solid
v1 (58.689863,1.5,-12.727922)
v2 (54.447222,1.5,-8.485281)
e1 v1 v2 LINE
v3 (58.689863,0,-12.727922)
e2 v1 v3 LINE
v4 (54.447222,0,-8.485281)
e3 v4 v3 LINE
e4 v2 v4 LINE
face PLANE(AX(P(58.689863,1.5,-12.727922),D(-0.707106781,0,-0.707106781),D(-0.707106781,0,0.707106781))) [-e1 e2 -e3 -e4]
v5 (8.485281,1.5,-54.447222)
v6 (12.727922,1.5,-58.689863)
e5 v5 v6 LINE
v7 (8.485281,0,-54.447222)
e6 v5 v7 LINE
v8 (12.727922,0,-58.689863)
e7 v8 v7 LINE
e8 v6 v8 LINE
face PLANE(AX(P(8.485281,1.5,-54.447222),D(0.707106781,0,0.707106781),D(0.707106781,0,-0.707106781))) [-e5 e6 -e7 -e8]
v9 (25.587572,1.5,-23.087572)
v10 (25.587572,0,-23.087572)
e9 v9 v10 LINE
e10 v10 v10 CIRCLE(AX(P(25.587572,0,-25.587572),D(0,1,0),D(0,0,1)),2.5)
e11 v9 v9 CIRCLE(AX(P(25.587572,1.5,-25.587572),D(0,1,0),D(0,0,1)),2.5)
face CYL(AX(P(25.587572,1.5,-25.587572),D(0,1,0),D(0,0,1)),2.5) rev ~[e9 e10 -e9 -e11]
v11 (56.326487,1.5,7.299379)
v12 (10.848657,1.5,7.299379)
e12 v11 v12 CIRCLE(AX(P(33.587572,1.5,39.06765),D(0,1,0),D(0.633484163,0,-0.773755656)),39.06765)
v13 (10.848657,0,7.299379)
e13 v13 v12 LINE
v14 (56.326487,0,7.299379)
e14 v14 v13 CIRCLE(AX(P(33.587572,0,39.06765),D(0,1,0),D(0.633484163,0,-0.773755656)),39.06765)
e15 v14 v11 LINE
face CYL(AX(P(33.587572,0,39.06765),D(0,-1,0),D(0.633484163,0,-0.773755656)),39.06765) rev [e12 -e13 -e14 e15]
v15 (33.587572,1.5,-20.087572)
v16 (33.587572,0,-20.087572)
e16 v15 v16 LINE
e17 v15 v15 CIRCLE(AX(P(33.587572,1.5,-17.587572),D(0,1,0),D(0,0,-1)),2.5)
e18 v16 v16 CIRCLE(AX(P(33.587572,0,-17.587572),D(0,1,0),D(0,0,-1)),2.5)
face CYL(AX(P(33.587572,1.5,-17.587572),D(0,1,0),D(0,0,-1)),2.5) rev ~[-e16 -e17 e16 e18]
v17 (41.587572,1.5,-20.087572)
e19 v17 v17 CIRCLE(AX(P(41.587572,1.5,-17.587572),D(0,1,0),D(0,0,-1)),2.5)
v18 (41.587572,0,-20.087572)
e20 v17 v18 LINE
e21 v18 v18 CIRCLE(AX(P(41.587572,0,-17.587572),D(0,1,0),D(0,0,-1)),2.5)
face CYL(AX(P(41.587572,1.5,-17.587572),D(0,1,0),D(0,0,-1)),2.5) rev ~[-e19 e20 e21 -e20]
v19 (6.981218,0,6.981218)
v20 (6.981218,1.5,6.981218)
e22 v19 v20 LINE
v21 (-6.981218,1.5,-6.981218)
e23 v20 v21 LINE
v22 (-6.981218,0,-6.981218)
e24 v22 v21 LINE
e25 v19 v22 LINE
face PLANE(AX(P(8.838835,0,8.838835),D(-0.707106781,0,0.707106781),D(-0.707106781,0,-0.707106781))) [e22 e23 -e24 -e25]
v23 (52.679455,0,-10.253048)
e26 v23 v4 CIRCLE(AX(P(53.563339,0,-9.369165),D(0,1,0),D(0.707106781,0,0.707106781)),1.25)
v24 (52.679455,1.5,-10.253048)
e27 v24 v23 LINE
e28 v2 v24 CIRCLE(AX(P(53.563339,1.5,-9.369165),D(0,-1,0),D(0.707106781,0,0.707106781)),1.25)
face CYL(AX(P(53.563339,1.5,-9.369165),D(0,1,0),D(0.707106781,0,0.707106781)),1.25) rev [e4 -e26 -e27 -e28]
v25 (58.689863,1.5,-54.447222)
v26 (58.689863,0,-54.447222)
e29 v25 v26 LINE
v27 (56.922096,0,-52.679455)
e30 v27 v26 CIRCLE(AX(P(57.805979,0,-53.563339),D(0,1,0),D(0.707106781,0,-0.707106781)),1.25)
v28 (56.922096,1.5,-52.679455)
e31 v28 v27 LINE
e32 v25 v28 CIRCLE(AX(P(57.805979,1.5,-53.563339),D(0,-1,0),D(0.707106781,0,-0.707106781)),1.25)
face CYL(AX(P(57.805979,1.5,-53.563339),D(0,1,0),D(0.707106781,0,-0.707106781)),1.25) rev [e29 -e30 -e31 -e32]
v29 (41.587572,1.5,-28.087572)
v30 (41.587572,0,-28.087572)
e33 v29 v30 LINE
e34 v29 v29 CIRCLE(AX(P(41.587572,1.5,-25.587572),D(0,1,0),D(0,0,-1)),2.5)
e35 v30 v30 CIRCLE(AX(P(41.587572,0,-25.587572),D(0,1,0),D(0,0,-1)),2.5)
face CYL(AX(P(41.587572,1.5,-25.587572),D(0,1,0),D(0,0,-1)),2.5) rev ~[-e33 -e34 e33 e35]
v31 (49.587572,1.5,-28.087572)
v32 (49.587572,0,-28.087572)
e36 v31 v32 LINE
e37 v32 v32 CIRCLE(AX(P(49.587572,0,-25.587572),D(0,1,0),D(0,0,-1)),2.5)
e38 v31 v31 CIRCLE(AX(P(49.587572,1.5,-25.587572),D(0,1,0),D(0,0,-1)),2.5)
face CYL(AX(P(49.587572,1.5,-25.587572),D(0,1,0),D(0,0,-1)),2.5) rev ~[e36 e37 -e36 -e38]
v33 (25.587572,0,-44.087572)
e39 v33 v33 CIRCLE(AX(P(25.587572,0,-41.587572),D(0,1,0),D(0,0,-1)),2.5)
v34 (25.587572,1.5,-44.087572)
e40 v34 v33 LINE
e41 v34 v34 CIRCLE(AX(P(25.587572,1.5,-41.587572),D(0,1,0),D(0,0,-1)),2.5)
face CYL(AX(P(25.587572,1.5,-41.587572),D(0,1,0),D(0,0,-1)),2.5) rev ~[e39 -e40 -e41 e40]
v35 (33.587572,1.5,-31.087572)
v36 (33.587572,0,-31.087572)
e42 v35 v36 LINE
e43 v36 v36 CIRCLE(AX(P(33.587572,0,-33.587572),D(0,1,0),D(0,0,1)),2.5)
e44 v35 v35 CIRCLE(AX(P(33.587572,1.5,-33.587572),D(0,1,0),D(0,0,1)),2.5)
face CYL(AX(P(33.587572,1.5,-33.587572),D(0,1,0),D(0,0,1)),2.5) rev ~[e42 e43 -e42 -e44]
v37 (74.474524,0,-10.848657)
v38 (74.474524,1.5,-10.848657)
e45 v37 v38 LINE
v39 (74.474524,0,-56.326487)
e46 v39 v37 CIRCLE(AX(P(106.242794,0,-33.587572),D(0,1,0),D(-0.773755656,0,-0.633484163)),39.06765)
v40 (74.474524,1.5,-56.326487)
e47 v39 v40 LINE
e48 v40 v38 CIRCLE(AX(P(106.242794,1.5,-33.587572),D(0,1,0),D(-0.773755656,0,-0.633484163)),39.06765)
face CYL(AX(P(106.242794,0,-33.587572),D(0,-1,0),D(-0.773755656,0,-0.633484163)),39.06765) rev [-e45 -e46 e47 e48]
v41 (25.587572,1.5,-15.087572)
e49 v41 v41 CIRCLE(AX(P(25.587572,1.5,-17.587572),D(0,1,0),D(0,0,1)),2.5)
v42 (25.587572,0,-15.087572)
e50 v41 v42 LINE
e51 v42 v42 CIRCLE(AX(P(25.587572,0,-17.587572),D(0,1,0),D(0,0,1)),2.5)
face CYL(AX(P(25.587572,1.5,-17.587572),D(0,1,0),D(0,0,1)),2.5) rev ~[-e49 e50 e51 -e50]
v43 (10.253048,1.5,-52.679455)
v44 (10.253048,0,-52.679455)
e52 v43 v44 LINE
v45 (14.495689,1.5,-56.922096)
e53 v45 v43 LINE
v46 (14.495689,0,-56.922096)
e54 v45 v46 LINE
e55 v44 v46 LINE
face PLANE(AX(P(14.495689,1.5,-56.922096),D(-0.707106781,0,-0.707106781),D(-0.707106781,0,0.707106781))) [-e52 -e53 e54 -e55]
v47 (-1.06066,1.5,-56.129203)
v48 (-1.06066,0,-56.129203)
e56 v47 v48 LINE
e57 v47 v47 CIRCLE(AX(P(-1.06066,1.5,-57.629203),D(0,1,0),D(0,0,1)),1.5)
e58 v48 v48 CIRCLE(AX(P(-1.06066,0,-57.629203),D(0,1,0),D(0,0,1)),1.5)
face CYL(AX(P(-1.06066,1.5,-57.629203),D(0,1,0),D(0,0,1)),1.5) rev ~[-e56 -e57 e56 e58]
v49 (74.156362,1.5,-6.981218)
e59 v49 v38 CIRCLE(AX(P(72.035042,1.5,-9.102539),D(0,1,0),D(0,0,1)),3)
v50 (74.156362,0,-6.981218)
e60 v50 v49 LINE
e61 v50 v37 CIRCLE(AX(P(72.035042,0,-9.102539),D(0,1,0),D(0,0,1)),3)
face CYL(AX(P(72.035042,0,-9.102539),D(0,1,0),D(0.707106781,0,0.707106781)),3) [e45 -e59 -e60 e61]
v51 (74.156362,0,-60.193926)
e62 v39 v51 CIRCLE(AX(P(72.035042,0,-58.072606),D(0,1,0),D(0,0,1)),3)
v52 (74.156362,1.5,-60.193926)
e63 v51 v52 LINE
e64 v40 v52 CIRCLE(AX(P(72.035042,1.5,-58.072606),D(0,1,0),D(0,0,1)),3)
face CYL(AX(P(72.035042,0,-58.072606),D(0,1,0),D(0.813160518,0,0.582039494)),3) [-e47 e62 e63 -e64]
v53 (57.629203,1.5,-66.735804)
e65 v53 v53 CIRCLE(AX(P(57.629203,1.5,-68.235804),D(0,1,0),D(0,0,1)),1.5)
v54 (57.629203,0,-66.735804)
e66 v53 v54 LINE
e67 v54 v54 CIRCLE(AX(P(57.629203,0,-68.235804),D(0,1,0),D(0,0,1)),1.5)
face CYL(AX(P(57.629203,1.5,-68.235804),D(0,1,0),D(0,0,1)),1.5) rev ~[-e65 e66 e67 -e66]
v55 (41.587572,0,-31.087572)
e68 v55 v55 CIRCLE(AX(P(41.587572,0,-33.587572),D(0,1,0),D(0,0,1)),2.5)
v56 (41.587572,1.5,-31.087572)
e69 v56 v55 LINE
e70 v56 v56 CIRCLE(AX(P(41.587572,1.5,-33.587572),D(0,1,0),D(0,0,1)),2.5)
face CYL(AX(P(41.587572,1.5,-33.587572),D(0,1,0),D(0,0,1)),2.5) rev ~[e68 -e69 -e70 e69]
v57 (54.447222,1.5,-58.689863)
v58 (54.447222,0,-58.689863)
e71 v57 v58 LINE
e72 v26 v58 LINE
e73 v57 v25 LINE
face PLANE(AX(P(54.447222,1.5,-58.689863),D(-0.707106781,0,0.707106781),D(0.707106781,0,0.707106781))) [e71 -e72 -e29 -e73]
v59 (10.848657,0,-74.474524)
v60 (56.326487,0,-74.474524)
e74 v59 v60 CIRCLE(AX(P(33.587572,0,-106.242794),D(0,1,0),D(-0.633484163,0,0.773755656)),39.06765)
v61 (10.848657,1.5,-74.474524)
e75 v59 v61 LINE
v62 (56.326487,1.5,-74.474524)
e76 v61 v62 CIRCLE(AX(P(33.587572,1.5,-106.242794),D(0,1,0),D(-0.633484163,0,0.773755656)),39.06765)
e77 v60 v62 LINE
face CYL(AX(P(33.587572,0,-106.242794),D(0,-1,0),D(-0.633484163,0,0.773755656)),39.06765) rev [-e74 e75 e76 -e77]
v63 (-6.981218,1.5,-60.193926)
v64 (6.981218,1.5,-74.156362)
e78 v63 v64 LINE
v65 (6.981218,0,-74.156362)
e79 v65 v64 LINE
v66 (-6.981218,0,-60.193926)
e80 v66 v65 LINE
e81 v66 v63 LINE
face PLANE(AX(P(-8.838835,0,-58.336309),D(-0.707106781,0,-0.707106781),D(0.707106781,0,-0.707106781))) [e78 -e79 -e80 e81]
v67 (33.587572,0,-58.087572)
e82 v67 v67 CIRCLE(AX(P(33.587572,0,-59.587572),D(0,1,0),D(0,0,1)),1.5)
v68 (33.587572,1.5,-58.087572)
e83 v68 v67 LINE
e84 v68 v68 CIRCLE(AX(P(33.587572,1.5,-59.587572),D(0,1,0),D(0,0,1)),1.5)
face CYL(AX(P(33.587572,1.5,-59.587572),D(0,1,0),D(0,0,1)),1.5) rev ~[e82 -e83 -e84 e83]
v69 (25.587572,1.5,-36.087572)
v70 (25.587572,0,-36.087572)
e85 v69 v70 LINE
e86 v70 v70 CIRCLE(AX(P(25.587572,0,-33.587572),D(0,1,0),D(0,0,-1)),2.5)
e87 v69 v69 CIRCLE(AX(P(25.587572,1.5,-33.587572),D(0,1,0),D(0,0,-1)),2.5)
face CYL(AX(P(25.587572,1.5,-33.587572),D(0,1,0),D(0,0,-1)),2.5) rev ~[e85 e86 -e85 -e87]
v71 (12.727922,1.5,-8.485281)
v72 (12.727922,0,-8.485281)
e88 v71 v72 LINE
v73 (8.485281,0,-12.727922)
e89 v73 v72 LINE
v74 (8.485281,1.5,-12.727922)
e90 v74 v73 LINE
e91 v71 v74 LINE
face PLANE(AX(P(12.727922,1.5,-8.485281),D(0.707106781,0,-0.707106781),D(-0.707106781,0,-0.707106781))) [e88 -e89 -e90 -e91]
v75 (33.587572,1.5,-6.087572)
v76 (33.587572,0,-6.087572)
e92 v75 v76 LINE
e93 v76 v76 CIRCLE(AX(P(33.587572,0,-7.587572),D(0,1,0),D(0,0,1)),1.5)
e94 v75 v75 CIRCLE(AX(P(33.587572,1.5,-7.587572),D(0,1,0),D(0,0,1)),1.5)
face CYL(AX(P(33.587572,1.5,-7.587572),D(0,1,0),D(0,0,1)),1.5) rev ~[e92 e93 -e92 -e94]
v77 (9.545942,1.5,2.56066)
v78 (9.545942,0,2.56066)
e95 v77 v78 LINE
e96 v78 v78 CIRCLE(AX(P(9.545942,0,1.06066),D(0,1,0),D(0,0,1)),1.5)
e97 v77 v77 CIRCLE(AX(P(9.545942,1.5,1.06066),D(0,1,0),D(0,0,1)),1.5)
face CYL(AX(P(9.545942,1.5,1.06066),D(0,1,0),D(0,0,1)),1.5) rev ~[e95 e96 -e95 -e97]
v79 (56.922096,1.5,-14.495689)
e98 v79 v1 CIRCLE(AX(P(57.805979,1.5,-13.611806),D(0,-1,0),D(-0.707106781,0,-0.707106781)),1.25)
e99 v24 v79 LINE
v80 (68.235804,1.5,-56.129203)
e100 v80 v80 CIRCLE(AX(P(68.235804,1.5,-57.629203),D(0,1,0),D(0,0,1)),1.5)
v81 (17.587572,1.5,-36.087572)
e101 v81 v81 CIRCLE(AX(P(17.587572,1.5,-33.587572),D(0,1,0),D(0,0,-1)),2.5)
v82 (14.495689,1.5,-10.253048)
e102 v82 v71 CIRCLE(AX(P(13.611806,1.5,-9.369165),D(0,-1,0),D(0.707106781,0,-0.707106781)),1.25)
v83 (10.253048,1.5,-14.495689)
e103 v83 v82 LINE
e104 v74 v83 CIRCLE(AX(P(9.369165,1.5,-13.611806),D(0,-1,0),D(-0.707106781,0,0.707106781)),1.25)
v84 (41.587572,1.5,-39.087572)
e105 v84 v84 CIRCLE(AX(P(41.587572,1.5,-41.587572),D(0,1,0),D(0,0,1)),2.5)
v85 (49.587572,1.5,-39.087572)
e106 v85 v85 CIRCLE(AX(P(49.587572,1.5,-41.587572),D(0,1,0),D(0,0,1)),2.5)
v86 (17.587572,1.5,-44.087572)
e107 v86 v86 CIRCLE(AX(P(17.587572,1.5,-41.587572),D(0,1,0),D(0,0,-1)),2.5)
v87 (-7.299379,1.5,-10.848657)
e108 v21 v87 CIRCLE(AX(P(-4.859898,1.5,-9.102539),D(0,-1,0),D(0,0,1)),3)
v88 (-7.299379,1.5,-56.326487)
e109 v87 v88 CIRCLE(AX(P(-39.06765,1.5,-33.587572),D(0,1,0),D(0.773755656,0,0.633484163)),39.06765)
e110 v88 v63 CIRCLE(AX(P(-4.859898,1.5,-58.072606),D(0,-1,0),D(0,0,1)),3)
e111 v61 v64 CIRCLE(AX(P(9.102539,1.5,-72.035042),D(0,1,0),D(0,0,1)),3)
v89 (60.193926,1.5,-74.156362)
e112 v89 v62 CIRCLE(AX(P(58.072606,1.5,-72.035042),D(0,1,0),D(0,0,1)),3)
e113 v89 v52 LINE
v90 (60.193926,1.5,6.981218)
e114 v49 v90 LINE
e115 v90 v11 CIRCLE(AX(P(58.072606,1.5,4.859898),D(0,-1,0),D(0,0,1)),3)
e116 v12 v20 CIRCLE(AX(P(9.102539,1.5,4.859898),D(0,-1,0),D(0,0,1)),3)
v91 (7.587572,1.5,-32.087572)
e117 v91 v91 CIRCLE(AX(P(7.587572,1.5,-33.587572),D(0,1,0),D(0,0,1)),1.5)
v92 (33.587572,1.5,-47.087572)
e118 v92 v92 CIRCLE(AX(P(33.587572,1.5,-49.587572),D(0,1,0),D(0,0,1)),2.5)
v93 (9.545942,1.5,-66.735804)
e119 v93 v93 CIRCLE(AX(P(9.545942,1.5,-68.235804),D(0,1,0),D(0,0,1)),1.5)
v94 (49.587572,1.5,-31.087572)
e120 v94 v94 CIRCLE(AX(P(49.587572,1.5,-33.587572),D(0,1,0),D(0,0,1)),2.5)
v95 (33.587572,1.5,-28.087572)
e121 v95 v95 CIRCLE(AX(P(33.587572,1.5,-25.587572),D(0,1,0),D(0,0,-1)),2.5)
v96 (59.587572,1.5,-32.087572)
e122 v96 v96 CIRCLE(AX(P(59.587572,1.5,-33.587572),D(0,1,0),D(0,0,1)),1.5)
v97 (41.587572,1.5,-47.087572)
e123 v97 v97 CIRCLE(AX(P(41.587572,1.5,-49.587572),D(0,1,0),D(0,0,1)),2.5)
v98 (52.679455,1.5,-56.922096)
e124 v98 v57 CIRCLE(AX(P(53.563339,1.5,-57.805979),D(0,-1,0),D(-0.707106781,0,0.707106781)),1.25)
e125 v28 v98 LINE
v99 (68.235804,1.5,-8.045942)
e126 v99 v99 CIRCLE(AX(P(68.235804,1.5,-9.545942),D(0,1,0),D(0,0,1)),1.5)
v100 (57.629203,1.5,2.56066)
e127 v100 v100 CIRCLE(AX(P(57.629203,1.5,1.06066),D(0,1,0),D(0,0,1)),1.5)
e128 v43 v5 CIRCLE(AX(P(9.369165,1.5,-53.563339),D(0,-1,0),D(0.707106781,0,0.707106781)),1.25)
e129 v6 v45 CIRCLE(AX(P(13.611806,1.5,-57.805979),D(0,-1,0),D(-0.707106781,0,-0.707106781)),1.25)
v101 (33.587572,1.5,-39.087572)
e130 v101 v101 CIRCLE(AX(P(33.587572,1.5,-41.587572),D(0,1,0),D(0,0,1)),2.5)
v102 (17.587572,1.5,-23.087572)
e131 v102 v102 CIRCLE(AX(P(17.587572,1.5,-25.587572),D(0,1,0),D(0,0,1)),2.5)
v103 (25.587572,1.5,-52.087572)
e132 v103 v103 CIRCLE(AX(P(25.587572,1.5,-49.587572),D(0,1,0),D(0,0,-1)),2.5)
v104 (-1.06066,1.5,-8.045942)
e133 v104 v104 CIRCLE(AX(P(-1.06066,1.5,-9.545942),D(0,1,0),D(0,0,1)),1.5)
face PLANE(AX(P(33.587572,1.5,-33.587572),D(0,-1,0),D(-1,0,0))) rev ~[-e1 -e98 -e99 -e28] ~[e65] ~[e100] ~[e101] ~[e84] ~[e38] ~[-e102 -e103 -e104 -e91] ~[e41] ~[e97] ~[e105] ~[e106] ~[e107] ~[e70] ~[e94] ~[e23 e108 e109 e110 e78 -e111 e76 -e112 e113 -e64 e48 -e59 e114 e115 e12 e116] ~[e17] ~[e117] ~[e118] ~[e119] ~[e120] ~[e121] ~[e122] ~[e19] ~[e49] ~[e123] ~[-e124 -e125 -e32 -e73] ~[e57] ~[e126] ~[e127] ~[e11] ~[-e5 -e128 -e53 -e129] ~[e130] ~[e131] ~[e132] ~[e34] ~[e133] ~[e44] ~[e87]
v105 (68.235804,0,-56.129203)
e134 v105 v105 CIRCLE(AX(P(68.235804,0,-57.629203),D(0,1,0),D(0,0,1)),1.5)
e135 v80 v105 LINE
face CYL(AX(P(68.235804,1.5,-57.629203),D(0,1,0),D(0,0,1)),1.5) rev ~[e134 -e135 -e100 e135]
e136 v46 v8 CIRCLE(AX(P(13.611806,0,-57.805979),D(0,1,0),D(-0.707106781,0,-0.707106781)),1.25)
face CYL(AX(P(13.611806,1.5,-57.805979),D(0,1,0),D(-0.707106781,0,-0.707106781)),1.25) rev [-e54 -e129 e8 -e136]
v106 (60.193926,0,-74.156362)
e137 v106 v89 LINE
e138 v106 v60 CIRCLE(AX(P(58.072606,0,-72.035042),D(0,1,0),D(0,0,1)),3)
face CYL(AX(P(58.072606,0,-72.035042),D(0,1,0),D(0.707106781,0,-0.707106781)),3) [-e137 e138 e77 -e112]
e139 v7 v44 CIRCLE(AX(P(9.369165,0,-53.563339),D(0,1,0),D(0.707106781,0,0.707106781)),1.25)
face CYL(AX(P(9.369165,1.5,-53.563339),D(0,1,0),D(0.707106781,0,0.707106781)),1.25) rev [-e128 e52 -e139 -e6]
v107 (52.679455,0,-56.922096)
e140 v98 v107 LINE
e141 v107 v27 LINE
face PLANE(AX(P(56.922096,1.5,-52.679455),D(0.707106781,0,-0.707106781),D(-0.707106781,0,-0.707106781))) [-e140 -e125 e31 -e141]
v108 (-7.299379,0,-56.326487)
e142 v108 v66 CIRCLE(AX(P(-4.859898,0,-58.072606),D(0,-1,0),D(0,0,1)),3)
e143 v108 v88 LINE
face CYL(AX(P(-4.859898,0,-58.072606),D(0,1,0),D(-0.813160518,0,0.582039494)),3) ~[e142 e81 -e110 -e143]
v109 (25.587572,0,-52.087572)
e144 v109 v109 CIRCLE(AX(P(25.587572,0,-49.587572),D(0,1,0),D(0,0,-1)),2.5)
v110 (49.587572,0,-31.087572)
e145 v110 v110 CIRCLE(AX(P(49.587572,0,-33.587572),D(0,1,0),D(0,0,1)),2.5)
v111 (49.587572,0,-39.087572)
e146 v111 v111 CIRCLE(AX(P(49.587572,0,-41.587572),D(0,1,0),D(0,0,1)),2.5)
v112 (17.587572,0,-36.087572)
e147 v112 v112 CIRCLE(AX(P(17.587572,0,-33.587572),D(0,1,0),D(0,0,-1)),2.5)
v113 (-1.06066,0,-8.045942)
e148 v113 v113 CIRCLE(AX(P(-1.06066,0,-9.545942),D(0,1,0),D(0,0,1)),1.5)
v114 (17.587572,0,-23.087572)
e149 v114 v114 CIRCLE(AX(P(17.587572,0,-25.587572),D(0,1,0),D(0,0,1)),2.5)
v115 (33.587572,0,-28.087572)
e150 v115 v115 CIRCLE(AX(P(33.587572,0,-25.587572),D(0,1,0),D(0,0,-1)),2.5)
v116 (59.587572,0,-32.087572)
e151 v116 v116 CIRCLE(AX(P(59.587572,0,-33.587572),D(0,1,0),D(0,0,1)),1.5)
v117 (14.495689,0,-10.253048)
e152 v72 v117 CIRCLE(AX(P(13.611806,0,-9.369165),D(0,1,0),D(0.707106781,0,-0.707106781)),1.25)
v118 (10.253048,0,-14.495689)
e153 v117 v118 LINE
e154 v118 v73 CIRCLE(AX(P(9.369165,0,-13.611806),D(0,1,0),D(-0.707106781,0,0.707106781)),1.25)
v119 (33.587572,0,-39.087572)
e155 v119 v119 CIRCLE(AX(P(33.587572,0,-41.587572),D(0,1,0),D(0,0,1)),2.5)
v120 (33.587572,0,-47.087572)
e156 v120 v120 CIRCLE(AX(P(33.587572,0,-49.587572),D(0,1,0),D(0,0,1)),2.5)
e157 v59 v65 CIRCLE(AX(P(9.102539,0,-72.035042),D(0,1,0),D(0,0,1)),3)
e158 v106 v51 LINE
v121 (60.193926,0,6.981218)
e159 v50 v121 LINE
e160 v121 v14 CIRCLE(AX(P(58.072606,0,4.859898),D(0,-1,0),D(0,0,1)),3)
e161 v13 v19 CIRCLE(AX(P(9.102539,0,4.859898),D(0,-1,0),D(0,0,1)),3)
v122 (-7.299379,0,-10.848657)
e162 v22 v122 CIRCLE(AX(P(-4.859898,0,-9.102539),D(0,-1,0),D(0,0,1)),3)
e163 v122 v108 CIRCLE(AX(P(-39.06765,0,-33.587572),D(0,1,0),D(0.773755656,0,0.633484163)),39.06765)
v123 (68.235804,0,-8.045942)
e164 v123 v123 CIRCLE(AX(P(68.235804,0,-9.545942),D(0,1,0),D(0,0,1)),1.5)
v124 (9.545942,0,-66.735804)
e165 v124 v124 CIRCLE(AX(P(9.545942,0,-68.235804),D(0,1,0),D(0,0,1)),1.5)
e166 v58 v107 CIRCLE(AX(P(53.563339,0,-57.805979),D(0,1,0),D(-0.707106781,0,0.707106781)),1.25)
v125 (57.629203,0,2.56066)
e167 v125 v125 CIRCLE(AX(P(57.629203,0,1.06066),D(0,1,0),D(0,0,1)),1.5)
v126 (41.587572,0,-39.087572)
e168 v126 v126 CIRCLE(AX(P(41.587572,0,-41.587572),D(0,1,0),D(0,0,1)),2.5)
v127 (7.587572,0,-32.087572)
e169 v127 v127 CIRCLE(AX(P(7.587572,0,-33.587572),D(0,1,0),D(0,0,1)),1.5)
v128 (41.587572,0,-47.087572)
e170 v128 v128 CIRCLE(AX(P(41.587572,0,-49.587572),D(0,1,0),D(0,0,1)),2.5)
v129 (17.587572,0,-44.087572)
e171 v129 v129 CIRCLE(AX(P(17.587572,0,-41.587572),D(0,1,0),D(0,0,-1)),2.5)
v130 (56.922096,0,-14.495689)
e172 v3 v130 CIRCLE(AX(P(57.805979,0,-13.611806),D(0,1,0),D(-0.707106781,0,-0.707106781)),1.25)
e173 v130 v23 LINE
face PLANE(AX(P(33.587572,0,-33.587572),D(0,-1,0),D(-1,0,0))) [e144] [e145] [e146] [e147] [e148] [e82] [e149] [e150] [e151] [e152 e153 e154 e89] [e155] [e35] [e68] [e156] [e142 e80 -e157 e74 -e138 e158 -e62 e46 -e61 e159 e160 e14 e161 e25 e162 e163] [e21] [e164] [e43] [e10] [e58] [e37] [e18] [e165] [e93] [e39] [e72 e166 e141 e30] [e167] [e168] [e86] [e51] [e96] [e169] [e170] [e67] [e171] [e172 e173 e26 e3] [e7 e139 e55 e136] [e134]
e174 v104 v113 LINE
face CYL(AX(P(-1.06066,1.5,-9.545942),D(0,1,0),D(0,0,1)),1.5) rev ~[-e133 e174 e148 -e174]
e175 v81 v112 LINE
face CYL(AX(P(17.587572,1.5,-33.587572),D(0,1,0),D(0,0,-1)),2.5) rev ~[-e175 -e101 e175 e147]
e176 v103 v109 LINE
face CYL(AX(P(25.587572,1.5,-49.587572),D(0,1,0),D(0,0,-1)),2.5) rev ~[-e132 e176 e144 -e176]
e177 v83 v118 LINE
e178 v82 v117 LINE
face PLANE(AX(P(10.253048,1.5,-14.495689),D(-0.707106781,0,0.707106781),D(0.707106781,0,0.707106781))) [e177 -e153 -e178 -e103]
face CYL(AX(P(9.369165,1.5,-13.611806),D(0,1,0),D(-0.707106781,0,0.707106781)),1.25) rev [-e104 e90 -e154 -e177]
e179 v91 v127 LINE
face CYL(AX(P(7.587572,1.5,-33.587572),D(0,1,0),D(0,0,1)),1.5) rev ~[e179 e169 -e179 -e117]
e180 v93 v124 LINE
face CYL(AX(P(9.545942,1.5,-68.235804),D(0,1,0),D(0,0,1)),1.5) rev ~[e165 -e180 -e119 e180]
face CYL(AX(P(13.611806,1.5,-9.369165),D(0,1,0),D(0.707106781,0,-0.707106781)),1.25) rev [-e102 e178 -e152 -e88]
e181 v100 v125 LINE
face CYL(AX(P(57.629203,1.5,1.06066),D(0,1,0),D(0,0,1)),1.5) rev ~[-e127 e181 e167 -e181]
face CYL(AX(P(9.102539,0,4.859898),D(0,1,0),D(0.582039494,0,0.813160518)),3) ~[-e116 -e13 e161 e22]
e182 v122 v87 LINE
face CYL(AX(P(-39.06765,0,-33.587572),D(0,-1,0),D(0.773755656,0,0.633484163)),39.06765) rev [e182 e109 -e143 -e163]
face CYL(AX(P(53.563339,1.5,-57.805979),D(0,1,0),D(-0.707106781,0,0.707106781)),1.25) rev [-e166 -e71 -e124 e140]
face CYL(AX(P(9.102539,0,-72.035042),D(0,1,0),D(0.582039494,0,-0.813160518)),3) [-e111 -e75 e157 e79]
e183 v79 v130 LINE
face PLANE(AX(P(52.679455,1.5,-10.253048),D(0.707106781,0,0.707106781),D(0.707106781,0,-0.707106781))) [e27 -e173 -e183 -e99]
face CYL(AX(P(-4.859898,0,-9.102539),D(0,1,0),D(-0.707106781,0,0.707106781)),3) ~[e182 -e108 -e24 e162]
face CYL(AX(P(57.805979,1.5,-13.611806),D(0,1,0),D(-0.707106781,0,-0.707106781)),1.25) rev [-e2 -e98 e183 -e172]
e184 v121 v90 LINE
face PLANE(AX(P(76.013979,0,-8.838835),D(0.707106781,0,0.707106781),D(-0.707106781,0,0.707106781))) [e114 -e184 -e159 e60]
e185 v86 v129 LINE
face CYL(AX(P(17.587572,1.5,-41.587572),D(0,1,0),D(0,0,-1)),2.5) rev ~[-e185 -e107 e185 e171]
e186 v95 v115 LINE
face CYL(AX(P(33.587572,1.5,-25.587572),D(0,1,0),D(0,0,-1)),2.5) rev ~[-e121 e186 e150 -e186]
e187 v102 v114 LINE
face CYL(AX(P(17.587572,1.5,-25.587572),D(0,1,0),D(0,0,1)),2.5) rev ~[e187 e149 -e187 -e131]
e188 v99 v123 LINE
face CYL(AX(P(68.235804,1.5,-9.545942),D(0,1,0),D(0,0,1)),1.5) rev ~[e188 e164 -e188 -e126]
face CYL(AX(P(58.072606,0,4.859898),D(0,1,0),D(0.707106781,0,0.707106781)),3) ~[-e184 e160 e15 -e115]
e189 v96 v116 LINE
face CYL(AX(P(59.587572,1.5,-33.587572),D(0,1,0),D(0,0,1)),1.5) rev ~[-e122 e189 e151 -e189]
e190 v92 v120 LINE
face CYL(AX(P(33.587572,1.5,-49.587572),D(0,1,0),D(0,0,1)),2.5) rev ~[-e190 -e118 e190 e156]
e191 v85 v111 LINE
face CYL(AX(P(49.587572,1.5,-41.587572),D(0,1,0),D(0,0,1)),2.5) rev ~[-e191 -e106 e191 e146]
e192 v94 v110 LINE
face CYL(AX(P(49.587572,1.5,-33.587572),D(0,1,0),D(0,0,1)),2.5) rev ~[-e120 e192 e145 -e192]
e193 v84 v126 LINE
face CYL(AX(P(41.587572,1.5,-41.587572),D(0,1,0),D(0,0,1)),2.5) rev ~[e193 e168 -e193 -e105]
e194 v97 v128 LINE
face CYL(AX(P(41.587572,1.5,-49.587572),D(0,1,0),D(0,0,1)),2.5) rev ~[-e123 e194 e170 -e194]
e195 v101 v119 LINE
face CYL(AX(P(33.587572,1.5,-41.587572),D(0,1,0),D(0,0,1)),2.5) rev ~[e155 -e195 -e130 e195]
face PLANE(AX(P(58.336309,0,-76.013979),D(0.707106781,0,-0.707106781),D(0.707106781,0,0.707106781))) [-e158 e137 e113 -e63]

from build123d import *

# Parameters (mm, degrees)
BOSS_EXTRUDE1_DEPTH = 1.5
SKETCH2_R           = 1.5
CUT_EXTRUDE1_DEPTH  = 108.510464607
FILLET1_R           = 3
SKETCH8_R           = 2.5
CUT_EXTRUDE2_DEPTH  = 107.126175316
SKETCH9_R           = 1.5
CUT_EXTRUDE3_DEPTH  = 107.126175316


with BuildPart() as part:
    # Sketch1 → Boss-Extrude1 (new body)
    with BuildSketch(Plane(origin=(0, 0, 0), x_dir=(1, 0, 0), z_dir=(0, 1, 0))):
        with BuildLine():
            Line((76.013978978, 8.838834765), (58.336309448, -8.838834765))
            ThreePointArc((58.336309448, -8.838834765), (33.587572106, 0), (8.838834765, -8.838834765))
            Line((8.838834765, -8.838834765), (-8.838834765, 8.838834765))
            ThreePointArc((-8.838834765, 8.838834765), (0, 33.587572106), (-8.838834765, 58.336309448))
            Line((-8.838834765, 58.336309448), (8.838834765, 76.013978978))
            ThreePointArc((8.838834765, 76.013978978), (33.587572106, 67.175144213), (58.336309448, 76.013978978))
            Line((58.336309448, 76.013978978), (76.013978978, 58.336309448))
            ThreePointArc((76.013978978, 58.336309448), (67.175144213, 33.587572106), (76.013978978, 8.838834765))
        make_face()
    extrude(amount=BOSS_EXTRUDE1_DEPTH)

    # Sketch2 → Cut-Extrude1 (cut, through all)
    with BuildSketch(Plane(origin=(0, 1.5, 0), x_dir=(1, 0, 0), z_dir=(0, 1, 0))):
        with Locations(Location((57.629202667, 68.235804385, 0), (0, 0, 270))):
            Circle(SKETCH2_R)
        with Locations(Location((68.235804385, 57.629202667, 0), (0, 0, 270))):
            Circle(SKETCH2_R)
        with Locations(Location((68.235804385, 9.545941546, 0), (0, 0, 270))):
            Circle(SKETCH2_R)
        with Locations(Location((57.629202667, -1.060660172, 0), (0, 0, 270))):
            Circle(SKETCH2_R)
        with Locations(Location((9.545941546, -1.060660172, 0), (0, 0, 270))):
            Circle(SKETCH2_R)
        with Locations(Location((-1.060660172, 9.545941546, 0), (0, 0, 270))):
            Circle(SKETCH2_R)
        with Locations(Location((-1.060660172, 57.629202667, 0), (0, 0, 270))):
            Circle(SKETCH2_R)
        with Locations(Location((9.545941546, 68.235804385, 0), (0, 0, 270))):
            Circle(SKETCH2_R)
    extrude(amount=-CUT_EXTRUDE1_DEPTH, mode=Mode.SUBTRACT)

    # Fillet1
    fillet1_edges = [part.edges().sort_by_distance(p)[0] for p in [
        (76.013978978, 0.75, -8.838834765),
        (58.336309448, 0.75, 8.838834765),
        (8.838834765, 0.75, 8.838834765),
        (-8.838834765, 0.75, -8.838834765),
        (-8.838834765, 0.75, -58.336309448),
        (8.838834765, 0.75, -76.013978978),
        (58.336309448, 0.75, -76.013978978),
        (76.013978978, 0.75, -58.336309448),
    ]]
    fillet(fillet1_edges, radius=FILLET1_R)

    # Sketch8 → Cut-Extrude2 (cut, through all)
    with BuildSketch(Plane(origin=(0, 1.5, 0), x_dir=(1, 0, 0), z_dir=(0, 1, 0))):
        with Locations(Location((33.587572106, 33.587572106, 0), (0, 0, 270))):
            Circle(SKETCH8_R)
        with Locations(Location((41.587572106, 33.587572106, 0), (0, 0, 270))):
            Circle(SKETCH8_R)
        with Locations(Location((49.587572106, 33.587572106, 0), (0, 0, 270))):
            Circle(SKETCH8_R)
        with Locations(Location((41.587572106, 41.587572106, 0), (0, 0, 270))):
            Circle(SKETCH8_R)
        with Locations(Location((49.587572106, 41.587572106, 0), (0, 0, 270))):
            Circle(SKETCH8_R)
        with Locations(Location((41.587572106, 49.587572106, 0), (0, 0, 270))):
            Circle(SKETCH8_R)
        with Locations(Location((33.587572106, 41.587572106, 0), (0, 0, 270))):
            Circle(SKETCH8_R)
        with Locations(Location((33.587572106, 49.587572106, 0), (0, 0, 270))):
            Circle(SKETCH8_R)
        with Locations(Location((17.587572106, 41.587572106, 0), (0, 0, 90))):
            Circle(SKETCH8_R)
        with Locations(Location((17.587572106, 33.587572106, 0), (0, 0, 90))):
            Circle(SKETCH8_R)
        with Locations(Location((25.587572106, 33.587572106, 0), (0, 0, 90))):
            Circle(SKETCH8_R)
        with Locations(Location((25.587572106, 49.587572106, 0), (0, 0, 90))):
            Circle(SKETCH8_R)
        with Locations(Location((25.587572106, 41.587572106, 0), (0, 0, 90))):
            Circle(SKETCH8_R)
        with Locations(Location((49.587572106, 25.587572106, 0), (0, 0, 90))):
            Circle(SKETCH8_R)
        with Locations(Location((41.587572106, 17.587572106, 0), (0, 0, 90))):
            Circle(SKETCH8_R)
        with Locations(Location((41.587572106, 25.587572106, 0), (0, 0, 90))):
            Circle(SKETCH8_R)
        with Locations(Location((17.587572106, 25.587572106, 0), (0, 0, 270))):
            Circle(SKETCH8_R)
        with Locations(Location((25.587572106, 25.587572106, 0), (0, 0, 270))):
            Circle(SKETCH8_R)
        with Locations(Location((33.587572106, 25.587572106, 0), (0, 0, 90))):
            Circle(SKETCH8_R)
        with Locations(Location((33.587572106, 17.587572106, 0), (0, 0, 90))):
            Circle(SKETCH8_R)
        with Locations(Location((25.587572106, 17.587572106, 0), (0, 0, 270))):
            Circle(SKETCH8_R)
        with BuildLine():
            Line((8.485281374, 54.447222151), (12.727922061, 58.689862838))
            ThreePointArc((12.727922061, 58.689862838), (14.495689014, 58.689862838), (14.495689014, 56.922095886))
            Line((14.495689014, 56.922095886), (10.253048327, 52.679455198))
            ThreePointArc((10.253048327, 52.679455198), (8.485281374, 52.679455198), (8.485281374, 54.447222151))
        make_face()
        with BuildLine():
            Line((54.447222151, 58.689862838), (58.689862838, 54.447222151))
            ThreePointArc((58.689862838, 54.447222151), (58.689862838, 52.679455198), (56.922095886, 52.679455198))
            Line((56.922095886, 52.679455198), (52.679455198, 56.922095886))
            ThreePointArc((52.679455198, 56.922095886), (52.679455198, 58.689862838), (54.447222151, 58.689862838))
        make_face()
        with BuildLine():
            Line((58.689862838, 12.727922061), (54.447222151, 8.485281374))
            ThreePointArc((54.447222151, 8.485281374), (52.679455198, 8.485281374), (52.679455198, 10.253048327))
            Line((52.679455198, 10.253048327), (56.922095886, 14.495689014))
            ThreePointArc((56.922095886, 14.495689014), (58.689862838, 14.495689014), (58.689862838, 12.727922061))
        make_face()
        with BuildLine():
            Line((12.727922061, 8.485281374), (8.485281374, 12.727922061))
            ThreePointArc((8.485281374, 12.727922061), (8.485281374, 14.495689014), (10.253048327, 14.495689014))
            Line((10.253048327, 14.495689014), (14.495689014, 10.253048327))
            ThreePointArc((14.495689014, 10.253048327), (14.495689014, 8.485281374), (12.727922061, 8.485281374))
        make_face()
    extrude(amount=-CUT_EXTRUDE2_DEPTH, mode=Mode.SUBTRACT)

    # Sketch9 → Cut-Extrude3 (cut, through all)
    with BuildSketch(Plane(origin=(0, 1.5, 0), x_dir=(1, 0, 0), z_dir=(0, 1, 0))):
        with Locations(Location((33.587572106, 59.587572106, 0), (0, 0, 270))):
            Circle(SKETCH9_R)
        with Locations(Location((59.587572106, 33.587572106, 0), (0, 0, 270))):
            Circle(SKETCH9_R)
        with Locations(Location((33.587572106, 7.587572106, 0), (0, 0, 270))):
            Circle(SKETCH9_R)
        with Locations(Location((7.587572106, 33.587572106, 0), (0, 0, 270))):
            Circle(SKETCH9_R)
    extrude(amount=-CUT_EXTRUDE3_DEPTH, mode=Mode.SUBTRACT)


solid = part.part
